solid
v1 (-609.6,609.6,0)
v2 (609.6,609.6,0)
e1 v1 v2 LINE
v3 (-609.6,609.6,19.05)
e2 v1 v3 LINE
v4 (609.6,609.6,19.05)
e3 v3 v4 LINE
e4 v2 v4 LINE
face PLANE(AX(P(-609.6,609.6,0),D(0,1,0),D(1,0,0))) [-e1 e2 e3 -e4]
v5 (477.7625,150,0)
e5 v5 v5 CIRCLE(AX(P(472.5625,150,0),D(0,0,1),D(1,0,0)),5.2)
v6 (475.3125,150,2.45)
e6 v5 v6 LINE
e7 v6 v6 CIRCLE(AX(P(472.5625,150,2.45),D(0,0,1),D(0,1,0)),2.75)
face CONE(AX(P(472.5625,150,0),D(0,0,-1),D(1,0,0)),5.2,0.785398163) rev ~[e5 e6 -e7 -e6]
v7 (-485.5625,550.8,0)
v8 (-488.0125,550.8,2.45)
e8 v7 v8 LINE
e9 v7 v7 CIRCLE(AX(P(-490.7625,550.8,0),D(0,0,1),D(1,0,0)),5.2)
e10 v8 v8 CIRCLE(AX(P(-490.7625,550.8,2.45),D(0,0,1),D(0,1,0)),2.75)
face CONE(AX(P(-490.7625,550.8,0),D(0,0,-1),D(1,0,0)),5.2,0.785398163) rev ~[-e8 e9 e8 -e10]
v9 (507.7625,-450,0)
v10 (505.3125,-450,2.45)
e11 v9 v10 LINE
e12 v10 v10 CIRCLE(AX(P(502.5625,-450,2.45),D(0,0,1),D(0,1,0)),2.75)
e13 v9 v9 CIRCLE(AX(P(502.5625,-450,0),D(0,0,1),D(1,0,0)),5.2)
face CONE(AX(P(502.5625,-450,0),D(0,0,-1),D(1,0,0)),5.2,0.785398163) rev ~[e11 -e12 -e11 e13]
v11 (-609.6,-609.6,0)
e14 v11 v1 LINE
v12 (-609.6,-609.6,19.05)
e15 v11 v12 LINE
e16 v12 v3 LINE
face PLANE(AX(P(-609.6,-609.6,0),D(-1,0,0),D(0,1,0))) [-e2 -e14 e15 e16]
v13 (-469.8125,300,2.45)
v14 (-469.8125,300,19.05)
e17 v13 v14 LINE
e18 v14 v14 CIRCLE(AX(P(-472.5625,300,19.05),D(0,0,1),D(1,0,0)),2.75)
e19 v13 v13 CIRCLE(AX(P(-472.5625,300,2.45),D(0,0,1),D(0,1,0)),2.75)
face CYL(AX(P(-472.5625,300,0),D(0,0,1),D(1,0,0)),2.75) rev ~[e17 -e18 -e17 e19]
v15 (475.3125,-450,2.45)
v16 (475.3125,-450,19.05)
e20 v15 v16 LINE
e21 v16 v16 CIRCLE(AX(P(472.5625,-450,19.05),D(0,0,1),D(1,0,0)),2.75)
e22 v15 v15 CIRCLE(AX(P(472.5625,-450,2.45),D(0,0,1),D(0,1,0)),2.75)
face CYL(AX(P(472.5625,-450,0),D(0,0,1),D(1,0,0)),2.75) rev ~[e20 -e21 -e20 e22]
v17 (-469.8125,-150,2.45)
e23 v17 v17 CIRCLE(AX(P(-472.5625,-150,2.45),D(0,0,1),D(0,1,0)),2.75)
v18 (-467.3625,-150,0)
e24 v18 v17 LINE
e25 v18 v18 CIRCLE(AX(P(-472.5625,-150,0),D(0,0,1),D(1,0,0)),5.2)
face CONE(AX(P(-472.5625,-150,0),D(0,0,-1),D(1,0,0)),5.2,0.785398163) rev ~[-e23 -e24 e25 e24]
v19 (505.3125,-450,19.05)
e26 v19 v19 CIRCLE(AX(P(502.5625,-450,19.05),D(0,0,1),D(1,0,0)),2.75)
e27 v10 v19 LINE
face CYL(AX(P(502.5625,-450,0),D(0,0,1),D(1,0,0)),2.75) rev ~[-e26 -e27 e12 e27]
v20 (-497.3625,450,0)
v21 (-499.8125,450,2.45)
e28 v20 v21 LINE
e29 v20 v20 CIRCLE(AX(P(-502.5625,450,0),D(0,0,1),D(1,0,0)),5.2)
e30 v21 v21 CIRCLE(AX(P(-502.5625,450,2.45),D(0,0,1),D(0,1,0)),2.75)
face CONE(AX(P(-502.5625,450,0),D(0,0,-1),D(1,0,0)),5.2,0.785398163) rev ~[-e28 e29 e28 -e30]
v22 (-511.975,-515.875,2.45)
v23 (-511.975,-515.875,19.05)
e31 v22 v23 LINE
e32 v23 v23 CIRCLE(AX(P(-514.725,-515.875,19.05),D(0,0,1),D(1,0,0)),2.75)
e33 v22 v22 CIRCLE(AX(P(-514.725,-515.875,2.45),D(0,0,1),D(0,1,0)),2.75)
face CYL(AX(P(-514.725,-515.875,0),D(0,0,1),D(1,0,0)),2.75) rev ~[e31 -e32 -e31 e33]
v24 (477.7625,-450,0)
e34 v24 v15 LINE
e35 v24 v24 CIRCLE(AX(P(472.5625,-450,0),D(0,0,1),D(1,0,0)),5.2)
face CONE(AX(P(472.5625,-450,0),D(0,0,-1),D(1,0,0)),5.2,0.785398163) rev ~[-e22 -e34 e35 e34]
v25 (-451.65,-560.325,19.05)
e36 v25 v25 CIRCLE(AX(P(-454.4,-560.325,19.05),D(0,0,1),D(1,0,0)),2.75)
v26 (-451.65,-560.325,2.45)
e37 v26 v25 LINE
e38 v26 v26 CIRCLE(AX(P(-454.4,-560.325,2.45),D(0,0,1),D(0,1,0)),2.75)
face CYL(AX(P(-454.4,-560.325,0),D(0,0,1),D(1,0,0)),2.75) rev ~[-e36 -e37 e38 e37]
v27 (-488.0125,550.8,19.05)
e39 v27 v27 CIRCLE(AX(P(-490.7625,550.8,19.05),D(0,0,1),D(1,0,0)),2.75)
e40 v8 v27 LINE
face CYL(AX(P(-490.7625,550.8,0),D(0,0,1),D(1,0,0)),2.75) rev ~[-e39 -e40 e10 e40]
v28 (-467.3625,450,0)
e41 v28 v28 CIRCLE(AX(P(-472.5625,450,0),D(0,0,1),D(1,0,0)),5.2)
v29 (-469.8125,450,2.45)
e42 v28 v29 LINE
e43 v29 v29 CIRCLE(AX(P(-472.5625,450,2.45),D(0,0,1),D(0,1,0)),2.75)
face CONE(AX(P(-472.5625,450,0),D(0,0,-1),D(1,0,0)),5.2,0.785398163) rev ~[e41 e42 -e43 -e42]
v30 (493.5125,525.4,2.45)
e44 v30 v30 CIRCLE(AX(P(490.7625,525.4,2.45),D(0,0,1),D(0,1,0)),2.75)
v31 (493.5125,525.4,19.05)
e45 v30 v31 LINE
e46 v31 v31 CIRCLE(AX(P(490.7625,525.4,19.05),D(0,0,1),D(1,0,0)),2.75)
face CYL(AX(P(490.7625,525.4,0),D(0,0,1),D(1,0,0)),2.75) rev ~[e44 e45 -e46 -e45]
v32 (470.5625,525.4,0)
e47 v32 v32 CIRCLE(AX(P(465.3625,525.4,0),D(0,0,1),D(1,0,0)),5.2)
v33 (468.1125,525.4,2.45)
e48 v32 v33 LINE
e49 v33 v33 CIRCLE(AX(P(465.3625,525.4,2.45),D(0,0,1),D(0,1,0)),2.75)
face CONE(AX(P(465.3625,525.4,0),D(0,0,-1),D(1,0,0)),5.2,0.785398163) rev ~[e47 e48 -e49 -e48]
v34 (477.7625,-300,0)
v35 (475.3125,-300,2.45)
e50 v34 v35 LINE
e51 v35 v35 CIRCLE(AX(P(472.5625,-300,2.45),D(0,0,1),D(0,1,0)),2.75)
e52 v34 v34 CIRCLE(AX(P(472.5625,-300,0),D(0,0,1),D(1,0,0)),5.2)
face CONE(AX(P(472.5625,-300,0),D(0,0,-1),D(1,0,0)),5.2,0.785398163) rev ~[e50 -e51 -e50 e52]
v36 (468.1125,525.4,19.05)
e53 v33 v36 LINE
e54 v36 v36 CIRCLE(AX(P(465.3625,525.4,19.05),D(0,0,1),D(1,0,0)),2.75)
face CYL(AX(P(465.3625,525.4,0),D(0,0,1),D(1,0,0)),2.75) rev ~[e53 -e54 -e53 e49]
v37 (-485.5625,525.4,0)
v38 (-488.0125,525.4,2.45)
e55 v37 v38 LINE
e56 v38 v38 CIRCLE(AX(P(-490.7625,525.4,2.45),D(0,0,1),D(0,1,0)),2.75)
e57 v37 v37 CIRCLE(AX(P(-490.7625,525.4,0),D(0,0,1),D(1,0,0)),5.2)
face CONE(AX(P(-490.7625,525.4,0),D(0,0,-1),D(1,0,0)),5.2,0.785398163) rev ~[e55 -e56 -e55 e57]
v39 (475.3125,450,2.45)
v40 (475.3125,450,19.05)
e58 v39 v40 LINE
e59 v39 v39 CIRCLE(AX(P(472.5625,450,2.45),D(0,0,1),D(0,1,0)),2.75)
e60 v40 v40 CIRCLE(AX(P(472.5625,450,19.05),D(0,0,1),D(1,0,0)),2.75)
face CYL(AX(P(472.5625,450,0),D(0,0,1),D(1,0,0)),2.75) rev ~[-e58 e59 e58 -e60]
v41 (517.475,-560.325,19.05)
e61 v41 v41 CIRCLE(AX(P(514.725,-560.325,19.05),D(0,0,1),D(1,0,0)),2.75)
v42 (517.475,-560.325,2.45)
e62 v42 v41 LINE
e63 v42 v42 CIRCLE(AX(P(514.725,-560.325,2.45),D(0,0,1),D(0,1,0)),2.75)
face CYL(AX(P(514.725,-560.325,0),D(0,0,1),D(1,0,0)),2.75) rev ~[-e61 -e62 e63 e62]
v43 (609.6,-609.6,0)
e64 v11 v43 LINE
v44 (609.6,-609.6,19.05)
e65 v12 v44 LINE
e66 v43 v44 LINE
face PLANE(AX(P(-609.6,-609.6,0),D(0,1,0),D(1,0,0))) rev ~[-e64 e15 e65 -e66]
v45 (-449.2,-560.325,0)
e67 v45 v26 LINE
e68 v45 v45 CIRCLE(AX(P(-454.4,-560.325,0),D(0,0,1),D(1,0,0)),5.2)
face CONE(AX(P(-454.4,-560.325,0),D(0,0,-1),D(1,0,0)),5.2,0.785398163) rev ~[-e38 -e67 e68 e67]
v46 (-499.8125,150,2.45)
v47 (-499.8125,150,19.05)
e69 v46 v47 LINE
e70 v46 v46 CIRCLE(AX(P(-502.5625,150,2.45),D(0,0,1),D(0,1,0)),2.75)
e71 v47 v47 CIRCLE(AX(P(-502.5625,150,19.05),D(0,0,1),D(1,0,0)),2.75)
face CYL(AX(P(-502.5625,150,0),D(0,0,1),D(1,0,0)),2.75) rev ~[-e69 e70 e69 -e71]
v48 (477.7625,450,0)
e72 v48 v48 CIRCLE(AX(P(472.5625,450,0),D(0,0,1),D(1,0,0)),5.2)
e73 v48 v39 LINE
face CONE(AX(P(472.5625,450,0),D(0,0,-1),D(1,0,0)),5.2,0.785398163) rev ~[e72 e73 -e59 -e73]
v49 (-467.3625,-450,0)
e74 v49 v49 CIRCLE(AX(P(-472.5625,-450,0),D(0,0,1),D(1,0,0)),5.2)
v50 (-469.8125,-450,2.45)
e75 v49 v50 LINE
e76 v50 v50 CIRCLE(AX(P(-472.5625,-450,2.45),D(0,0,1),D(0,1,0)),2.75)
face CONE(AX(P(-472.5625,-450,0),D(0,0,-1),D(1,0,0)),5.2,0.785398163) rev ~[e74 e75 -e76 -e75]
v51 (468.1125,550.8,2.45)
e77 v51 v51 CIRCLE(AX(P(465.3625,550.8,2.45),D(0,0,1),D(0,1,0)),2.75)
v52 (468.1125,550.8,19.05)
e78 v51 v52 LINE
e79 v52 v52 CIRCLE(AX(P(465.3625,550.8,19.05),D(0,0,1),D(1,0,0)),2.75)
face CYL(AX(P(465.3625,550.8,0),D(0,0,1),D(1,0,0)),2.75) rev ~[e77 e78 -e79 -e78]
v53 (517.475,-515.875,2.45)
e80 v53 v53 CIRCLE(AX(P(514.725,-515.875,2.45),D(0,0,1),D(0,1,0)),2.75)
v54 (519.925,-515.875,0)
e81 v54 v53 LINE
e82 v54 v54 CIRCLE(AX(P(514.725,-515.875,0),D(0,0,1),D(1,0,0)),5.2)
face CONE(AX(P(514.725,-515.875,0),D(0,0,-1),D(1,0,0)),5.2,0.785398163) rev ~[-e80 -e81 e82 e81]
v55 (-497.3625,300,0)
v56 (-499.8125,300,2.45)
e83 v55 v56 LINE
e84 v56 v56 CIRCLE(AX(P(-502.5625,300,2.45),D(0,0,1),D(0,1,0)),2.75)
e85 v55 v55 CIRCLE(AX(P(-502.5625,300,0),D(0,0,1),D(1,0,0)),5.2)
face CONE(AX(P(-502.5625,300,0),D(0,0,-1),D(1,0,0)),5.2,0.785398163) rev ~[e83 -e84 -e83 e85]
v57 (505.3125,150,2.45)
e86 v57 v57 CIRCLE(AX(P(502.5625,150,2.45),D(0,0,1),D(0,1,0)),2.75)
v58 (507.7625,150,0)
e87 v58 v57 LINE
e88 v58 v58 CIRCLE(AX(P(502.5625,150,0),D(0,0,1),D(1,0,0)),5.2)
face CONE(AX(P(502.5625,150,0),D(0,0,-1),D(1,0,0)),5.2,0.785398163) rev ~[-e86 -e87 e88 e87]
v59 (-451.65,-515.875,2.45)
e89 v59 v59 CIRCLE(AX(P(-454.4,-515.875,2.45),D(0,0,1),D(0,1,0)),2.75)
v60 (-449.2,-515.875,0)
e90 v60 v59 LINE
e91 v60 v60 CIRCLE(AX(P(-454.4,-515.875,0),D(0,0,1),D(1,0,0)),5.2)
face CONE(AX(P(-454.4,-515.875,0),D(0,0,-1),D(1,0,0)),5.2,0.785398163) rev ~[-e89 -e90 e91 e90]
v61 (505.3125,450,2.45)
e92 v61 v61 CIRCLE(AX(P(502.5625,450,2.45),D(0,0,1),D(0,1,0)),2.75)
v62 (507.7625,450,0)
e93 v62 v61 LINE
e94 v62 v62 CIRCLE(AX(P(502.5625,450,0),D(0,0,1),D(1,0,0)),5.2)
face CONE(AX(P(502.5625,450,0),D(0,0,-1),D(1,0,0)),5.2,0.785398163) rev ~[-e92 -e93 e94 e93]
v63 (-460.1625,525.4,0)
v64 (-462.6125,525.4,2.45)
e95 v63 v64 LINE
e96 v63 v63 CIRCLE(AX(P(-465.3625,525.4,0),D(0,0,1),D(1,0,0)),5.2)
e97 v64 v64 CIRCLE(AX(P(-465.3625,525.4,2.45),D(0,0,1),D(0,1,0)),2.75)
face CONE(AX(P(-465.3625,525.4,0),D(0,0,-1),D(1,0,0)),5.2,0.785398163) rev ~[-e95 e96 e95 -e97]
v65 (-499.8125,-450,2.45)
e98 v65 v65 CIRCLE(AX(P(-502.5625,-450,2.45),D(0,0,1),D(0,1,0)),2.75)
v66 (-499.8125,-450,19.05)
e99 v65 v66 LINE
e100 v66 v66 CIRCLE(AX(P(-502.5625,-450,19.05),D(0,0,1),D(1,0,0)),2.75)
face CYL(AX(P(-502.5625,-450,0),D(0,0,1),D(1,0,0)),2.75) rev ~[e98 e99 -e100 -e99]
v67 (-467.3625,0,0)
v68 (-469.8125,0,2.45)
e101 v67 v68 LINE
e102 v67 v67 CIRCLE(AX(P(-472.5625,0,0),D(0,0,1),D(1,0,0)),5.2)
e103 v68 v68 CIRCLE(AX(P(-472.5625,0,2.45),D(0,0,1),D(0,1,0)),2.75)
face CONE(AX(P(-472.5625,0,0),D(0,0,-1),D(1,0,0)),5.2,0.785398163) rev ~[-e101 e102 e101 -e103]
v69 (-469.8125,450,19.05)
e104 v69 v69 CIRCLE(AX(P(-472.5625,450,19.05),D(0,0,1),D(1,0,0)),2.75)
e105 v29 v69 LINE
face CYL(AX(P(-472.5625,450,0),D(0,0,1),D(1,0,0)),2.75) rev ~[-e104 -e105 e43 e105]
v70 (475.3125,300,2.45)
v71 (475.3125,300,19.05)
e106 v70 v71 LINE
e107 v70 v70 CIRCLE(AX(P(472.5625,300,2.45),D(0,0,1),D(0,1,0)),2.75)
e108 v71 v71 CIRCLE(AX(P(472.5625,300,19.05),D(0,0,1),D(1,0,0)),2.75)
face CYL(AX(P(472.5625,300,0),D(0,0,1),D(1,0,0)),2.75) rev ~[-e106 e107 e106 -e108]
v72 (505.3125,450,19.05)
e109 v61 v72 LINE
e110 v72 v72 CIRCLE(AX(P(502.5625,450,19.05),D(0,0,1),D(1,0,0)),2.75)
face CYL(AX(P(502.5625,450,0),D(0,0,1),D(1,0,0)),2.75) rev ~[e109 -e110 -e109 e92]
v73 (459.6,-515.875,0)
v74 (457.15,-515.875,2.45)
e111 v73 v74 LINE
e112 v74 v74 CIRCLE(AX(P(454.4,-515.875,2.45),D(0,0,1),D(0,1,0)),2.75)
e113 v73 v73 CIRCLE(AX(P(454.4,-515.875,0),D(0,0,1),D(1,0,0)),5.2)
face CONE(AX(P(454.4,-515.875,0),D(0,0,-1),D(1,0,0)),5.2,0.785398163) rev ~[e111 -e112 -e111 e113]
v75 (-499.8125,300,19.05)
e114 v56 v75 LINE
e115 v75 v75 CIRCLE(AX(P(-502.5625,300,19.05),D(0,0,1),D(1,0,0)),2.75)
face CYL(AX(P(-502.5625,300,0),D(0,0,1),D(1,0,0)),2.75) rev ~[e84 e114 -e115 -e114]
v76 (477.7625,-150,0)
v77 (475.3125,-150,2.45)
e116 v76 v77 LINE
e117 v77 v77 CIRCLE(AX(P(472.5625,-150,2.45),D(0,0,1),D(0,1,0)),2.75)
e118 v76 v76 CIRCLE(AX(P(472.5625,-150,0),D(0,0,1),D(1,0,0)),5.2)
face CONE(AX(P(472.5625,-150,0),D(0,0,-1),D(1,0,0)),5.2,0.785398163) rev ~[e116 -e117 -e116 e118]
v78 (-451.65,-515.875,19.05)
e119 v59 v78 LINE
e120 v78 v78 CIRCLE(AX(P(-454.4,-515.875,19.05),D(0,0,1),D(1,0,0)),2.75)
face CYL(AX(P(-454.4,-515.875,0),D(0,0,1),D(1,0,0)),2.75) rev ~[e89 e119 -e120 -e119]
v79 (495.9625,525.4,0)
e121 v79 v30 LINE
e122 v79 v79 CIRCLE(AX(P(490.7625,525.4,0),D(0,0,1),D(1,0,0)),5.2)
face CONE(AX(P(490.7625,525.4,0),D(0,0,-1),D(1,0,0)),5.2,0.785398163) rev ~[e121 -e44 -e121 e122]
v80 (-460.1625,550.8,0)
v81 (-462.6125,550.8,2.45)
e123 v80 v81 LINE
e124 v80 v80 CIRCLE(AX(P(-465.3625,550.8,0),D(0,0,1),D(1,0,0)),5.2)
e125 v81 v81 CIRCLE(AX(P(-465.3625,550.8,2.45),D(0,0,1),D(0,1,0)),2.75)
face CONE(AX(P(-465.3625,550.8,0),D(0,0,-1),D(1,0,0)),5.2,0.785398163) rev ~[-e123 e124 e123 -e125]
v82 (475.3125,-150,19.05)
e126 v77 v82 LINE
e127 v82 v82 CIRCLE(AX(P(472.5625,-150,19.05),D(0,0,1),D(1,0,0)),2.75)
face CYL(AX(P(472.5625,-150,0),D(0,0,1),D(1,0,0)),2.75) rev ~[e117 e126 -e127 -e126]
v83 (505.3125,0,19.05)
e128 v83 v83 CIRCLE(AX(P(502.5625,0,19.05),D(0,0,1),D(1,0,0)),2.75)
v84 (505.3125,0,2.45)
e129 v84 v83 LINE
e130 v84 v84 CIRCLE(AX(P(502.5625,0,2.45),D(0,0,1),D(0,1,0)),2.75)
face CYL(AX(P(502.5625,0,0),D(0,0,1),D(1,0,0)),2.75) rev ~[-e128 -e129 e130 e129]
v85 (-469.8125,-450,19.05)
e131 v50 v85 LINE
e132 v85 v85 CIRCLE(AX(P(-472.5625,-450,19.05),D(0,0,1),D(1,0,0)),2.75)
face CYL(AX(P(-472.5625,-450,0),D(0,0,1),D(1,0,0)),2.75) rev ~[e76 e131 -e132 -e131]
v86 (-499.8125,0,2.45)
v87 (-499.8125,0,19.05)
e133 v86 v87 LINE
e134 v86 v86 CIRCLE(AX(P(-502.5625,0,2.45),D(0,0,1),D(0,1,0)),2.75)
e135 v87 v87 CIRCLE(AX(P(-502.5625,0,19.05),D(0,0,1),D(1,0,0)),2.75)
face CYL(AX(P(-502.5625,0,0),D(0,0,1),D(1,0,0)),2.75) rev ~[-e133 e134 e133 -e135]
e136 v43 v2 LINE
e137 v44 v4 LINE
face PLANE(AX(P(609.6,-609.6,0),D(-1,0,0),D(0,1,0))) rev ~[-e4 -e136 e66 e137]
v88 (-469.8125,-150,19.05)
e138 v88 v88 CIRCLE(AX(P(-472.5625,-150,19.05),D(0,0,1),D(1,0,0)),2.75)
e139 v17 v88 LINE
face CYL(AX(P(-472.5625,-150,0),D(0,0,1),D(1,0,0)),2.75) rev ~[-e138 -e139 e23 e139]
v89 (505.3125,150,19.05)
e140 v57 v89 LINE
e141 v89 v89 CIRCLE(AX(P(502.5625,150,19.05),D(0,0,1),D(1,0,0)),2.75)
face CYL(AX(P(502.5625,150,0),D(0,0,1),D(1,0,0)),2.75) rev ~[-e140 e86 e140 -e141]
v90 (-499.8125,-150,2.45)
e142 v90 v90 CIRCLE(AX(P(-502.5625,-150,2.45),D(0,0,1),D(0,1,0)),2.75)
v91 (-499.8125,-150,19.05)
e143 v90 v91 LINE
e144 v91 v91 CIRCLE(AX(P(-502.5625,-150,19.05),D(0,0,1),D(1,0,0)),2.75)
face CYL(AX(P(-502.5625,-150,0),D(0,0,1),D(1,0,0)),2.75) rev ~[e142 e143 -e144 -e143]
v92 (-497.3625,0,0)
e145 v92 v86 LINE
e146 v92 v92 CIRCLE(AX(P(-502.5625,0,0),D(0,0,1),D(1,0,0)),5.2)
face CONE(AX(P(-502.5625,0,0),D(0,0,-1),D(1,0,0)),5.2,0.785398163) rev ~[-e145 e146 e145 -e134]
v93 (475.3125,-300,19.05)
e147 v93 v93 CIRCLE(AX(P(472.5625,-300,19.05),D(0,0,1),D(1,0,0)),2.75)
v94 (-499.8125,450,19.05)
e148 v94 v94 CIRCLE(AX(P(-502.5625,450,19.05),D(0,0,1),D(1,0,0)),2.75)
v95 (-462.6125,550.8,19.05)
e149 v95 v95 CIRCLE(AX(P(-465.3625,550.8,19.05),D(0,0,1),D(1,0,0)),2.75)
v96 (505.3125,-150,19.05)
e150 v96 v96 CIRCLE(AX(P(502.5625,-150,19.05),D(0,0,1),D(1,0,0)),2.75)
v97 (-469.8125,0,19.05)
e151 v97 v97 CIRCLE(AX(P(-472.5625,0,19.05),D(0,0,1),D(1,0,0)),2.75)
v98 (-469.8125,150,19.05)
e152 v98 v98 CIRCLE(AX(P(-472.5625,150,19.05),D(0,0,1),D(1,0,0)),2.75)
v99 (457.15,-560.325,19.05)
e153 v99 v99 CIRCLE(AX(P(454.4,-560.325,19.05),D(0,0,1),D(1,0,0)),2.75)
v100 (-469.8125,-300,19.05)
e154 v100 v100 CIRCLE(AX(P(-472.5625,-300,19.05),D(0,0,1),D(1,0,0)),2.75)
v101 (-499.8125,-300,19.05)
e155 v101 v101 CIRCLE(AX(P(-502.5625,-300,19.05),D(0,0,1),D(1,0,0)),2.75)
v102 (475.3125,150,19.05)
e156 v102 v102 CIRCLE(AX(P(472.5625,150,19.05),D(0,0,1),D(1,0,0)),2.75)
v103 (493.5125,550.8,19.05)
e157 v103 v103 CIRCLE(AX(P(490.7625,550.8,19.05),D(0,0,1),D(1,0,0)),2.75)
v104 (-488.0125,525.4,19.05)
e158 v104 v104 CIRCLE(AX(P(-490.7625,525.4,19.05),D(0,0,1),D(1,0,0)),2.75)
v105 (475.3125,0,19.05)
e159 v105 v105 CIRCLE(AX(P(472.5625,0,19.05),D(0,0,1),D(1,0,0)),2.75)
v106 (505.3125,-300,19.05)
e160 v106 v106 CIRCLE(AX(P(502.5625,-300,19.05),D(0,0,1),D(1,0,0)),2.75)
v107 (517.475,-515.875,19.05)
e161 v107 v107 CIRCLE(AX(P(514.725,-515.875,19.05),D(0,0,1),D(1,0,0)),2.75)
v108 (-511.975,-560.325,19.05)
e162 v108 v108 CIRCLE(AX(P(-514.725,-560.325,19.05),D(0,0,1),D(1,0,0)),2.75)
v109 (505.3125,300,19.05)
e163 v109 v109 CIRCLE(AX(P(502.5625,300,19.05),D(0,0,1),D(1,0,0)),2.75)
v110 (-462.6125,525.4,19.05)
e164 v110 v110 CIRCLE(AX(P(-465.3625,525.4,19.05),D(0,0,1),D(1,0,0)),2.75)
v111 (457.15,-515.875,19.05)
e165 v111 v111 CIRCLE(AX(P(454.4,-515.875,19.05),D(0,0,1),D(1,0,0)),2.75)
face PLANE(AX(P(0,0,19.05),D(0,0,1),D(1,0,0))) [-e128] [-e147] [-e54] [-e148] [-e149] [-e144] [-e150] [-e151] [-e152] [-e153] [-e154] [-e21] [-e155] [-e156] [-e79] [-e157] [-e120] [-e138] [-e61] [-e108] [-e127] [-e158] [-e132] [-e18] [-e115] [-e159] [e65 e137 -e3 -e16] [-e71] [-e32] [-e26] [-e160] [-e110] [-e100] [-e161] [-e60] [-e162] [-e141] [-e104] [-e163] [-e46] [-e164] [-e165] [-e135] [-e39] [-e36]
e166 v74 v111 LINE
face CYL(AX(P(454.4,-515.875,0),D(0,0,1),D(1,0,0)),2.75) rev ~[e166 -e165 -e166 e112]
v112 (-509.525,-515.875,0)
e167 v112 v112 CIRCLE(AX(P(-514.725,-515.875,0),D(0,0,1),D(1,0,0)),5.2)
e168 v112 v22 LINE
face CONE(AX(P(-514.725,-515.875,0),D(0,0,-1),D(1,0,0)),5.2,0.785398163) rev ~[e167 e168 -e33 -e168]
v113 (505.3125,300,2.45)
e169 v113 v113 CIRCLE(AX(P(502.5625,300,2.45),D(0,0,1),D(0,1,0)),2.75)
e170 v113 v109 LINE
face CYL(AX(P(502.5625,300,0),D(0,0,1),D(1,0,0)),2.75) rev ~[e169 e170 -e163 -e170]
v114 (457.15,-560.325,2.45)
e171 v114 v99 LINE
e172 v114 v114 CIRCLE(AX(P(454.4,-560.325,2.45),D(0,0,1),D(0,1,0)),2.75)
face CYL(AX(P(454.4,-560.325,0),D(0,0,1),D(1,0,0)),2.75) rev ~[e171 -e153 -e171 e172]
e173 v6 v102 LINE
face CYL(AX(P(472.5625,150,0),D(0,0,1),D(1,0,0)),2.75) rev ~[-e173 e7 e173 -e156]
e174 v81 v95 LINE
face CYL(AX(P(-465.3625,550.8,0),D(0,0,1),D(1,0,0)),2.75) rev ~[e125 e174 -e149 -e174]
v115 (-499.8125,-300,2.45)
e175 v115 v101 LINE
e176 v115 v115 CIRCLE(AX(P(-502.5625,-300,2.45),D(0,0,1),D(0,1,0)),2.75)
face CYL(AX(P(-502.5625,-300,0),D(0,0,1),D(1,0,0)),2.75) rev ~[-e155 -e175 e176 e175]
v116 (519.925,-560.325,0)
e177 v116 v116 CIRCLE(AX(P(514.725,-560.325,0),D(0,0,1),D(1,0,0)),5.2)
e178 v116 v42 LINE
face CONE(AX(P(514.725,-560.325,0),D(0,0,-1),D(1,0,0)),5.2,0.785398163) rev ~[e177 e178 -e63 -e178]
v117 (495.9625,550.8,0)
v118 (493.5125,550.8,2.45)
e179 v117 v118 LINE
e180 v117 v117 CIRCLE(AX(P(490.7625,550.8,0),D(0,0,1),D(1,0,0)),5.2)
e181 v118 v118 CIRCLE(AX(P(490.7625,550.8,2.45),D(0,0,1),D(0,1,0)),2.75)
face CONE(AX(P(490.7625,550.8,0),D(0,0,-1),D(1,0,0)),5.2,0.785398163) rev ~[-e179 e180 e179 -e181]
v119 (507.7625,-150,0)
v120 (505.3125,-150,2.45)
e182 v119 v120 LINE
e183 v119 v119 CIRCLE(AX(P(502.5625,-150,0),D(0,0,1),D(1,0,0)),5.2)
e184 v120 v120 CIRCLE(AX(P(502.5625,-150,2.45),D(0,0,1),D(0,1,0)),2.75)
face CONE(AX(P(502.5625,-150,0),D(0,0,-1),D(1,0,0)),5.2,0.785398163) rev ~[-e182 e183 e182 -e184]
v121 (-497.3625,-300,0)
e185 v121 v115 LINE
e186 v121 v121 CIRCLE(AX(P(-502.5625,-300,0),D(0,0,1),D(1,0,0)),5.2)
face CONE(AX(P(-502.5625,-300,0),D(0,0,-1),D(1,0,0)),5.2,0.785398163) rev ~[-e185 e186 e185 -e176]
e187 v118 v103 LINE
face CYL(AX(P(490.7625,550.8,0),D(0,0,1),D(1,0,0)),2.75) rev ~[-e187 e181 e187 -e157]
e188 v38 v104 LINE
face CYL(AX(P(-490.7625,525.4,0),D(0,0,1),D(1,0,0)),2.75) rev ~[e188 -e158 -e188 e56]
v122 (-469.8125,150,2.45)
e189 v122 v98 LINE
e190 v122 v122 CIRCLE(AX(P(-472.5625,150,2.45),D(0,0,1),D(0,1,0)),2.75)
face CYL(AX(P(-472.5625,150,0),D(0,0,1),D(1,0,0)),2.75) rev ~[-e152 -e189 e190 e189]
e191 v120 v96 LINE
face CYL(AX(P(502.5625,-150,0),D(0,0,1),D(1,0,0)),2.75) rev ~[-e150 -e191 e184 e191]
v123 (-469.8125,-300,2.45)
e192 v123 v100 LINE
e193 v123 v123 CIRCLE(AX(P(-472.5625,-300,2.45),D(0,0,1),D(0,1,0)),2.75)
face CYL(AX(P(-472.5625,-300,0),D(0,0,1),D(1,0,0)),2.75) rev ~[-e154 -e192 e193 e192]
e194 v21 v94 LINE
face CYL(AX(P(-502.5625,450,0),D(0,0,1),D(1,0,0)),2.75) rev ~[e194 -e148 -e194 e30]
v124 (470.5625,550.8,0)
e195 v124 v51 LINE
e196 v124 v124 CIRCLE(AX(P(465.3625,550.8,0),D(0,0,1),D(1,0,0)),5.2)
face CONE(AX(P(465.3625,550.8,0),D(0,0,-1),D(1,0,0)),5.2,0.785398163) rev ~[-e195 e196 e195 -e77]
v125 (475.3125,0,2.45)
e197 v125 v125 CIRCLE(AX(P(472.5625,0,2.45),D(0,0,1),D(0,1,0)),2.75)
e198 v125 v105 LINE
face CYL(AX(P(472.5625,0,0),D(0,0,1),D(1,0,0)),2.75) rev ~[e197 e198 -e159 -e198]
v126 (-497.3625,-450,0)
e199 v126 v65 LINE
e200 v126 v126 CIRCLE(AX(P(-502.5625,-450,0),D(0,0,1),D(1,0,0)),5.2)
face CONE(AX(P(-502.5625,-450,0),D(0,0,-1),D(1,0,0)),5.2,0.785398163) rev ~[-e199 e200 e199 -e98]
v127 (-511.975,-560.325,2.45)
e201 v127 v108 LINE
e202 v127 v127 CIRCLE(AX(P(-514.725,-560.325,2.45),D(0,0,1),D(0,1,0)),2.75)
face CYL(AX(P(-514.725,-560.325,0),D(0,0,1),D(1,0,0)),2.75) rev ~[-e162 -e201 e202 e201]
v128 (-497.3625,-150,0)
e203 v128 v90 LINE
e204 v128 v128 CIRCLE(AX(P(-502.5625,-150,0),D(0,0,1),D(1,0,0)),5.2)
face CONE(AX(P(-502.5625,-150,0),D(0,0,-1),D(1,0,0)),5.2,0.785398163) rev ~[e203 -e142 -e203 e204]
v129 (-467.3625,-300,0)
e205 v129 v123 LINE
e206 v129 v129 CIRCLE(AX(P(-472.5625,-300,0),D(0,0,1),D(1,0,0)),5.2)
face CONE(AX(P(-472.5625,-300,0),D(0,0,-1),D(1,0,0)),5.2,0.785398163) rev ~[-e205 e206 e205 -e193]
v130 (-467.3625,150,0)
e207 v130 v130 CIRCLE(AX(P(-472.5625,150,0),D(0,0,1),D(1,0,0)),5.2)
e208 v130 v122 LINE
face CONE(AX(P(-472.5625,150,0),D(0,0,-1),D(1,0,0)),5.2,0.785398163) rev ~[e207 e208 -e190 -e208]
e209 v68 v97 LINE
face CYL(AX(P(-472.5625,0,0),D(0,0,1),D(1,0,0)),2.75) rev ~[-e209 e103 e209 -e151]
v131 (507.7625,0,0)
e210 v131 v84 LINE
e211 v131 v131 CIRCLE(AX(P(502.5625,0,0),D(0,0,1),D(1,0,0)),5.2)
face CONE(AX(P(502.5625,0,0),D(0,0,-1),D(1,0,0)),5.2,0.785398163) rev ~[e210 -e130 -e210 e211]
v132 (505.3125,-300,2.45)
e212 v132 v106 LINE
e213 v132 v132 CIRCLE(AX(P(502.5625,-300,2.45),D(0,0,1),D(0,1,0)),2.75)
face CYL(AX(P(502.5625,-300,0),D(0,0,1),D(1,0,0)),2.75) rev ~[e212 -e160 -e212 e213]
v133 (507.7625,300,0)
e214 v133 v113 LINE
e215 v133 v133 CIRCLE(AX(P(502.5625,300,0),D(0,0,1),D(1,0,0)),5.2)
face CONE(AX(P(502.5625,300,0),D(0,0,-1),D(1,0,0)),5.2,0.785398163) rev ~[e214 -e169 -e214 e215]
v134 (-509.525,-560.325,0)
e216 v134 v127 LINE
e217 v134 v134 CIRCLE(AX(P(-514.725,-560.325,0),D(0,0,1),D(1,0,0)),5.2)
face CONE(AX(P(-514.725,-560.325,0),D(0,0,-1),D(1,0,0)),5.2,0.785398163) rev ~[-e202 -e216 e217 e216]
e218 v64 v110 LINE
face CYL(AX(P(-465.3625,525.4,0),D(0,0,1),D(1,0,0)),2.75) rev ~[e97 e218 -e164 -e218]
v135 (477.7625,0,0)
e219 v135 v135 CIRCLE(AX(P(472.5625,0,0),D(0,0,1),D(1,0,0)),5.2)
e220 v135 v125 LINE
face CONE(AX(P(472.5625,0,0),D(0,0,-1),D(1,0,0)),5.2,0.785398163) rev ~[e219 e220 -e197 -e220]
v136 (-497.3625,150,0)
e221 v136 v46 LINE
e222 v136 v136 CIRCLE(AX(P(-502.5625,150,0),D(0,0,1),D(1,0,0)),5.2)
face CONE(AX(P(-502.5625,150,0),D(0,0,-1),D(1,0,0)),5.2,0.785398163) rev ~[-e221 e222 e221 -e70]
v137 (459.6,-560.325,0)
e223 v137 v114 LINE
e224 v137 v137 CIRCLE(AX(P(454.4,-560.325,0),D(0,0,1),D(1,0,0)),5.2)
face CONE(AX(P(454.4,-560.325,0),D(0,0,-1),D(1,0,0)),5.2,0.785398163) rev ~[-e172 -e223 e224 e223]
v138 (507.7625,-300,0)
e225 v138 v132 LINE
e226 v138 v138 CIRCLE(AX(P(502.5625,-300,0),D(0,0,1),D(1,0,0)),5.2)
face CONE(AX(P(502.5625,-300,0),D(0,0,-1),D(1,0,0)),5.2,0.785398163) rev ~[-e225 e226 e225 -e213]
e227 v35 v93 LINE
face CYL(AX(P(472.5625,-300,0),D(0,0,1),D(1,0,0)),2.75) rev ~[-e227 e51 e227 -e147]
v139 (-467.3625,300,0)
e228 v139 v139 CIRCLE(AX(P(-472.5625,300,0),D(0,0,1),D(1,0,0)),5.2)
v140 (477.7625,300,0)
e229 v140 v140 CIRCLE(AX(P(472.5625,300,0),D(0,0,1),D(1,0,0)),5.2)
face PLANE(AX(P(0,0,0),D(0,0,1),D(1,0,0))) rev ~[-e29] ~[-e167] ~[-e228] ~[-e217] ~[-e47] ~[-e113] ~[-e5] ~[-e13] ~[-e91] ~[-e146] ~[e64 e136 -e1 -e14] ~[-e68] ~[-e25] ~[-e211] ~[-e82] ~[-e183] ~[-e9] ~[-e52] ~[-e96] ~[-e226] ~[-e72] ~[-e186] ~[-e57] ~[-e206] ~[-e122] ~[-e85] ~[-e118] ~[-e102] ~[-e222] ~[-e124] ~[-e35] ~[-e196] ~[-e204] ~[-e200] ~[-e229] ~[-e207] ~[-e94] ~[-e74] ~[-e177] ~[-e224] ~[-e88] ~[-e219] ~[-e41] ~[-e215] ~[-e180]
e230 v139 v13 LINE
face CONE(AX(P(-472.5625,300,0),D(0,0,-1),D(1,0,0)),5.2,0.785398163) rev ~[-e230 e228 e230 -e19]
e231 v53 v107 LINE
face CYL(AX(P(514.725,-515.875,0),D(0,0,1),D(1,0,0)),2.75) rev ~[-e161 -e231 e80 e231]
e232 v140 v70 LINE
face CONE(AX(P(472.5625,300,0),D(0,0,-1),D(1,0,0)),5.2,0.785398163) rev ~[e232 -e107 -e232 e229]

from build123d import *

# Parameters (mm, degrees)
SKETCH1_W                                       = 1219.2
SKETCH1_H                                       = 1219.2
BOSS_EXTRUDE1_DEPTH                             = 19.05
CSK_FOR_M5_FLAT_HEAD_MACHINE_SCREW1_D           = 5.5
CSK_FOR_M5_FLAT_HEAD_MACHINE_SCREW1_CSINK_D     = 10.4
CSK_FOR_M5_FLAT_HEAD_MACHINE_SCREW1_CSINK_ANGLE = 90


with BuildPart() as part:
    # Sketch1 → Boss-Extrude1 (new body)
    with BuildSketch(Plane.XY):
        Rectangle(SKETCH1_W, SKETCH1_H)
    extrude(amount=BOSS_EXTRUDE1_DEPTH)

    # CSK for M5 Flat Head Machine Screw1 (through all)
    with Locations(Plane(origin=(0, 0, 0), x_dir=(-1, 0, 0), z_dir=(0, 0, -1))):
        with Locations((-514.725, -515.875), (-514.725, -560.325), (-454.4, -560.325), (-454.4, -515.875), (-502.5625, -450), (-472.5625, -450), (-502.5625, -300), (-472.5625, -300), (-502.5625, -150), (-472.5625, -150), (-502.5625, 0), (-472.5625, 0), (-502.5625, 150), (-472.5625, 150), (-502.5625, 300), (-472.5625, 300), (-502.5625, 450), (-472.5625, 450), (-490.7625, 525.4), (-490.7625, 550.8), (-465.3625, 550.8), (-465.3625, 525.4), (465.3625, 525.4), (472.5625, 150), (502.5625, 150), (472.5625, 300), (502.5625, 300), (472.5625, 450), (502.5625, 450), (490.7625, 525.4), (490.7625, 550.8), (465.3625, 550.8), (454.4, -515.875), (454.4, -560.325), (514.725, -560.325), (514.725, -515.875), (472.5625, -450), (502.5625, -450), (472.5625, -300), (502.5625, -300), (472.5625, -150), (502.5625, -150), (472.5625, 0), (502.5625, 0)):
            CounterSinkHole(CSK_FOR_M5_FLAT_HEAD_MACHINE_SCREW1_D / 2, CSK_FOR_M5_FLAT_HEAD_MACHINE_SCREW1_CSINK_D / 2, counter_sink_angle=CSK_FOR_M5_FLAT_HEAD_MACHINE_SCREW1_CSINK_ANGLE)


solid = part.part
